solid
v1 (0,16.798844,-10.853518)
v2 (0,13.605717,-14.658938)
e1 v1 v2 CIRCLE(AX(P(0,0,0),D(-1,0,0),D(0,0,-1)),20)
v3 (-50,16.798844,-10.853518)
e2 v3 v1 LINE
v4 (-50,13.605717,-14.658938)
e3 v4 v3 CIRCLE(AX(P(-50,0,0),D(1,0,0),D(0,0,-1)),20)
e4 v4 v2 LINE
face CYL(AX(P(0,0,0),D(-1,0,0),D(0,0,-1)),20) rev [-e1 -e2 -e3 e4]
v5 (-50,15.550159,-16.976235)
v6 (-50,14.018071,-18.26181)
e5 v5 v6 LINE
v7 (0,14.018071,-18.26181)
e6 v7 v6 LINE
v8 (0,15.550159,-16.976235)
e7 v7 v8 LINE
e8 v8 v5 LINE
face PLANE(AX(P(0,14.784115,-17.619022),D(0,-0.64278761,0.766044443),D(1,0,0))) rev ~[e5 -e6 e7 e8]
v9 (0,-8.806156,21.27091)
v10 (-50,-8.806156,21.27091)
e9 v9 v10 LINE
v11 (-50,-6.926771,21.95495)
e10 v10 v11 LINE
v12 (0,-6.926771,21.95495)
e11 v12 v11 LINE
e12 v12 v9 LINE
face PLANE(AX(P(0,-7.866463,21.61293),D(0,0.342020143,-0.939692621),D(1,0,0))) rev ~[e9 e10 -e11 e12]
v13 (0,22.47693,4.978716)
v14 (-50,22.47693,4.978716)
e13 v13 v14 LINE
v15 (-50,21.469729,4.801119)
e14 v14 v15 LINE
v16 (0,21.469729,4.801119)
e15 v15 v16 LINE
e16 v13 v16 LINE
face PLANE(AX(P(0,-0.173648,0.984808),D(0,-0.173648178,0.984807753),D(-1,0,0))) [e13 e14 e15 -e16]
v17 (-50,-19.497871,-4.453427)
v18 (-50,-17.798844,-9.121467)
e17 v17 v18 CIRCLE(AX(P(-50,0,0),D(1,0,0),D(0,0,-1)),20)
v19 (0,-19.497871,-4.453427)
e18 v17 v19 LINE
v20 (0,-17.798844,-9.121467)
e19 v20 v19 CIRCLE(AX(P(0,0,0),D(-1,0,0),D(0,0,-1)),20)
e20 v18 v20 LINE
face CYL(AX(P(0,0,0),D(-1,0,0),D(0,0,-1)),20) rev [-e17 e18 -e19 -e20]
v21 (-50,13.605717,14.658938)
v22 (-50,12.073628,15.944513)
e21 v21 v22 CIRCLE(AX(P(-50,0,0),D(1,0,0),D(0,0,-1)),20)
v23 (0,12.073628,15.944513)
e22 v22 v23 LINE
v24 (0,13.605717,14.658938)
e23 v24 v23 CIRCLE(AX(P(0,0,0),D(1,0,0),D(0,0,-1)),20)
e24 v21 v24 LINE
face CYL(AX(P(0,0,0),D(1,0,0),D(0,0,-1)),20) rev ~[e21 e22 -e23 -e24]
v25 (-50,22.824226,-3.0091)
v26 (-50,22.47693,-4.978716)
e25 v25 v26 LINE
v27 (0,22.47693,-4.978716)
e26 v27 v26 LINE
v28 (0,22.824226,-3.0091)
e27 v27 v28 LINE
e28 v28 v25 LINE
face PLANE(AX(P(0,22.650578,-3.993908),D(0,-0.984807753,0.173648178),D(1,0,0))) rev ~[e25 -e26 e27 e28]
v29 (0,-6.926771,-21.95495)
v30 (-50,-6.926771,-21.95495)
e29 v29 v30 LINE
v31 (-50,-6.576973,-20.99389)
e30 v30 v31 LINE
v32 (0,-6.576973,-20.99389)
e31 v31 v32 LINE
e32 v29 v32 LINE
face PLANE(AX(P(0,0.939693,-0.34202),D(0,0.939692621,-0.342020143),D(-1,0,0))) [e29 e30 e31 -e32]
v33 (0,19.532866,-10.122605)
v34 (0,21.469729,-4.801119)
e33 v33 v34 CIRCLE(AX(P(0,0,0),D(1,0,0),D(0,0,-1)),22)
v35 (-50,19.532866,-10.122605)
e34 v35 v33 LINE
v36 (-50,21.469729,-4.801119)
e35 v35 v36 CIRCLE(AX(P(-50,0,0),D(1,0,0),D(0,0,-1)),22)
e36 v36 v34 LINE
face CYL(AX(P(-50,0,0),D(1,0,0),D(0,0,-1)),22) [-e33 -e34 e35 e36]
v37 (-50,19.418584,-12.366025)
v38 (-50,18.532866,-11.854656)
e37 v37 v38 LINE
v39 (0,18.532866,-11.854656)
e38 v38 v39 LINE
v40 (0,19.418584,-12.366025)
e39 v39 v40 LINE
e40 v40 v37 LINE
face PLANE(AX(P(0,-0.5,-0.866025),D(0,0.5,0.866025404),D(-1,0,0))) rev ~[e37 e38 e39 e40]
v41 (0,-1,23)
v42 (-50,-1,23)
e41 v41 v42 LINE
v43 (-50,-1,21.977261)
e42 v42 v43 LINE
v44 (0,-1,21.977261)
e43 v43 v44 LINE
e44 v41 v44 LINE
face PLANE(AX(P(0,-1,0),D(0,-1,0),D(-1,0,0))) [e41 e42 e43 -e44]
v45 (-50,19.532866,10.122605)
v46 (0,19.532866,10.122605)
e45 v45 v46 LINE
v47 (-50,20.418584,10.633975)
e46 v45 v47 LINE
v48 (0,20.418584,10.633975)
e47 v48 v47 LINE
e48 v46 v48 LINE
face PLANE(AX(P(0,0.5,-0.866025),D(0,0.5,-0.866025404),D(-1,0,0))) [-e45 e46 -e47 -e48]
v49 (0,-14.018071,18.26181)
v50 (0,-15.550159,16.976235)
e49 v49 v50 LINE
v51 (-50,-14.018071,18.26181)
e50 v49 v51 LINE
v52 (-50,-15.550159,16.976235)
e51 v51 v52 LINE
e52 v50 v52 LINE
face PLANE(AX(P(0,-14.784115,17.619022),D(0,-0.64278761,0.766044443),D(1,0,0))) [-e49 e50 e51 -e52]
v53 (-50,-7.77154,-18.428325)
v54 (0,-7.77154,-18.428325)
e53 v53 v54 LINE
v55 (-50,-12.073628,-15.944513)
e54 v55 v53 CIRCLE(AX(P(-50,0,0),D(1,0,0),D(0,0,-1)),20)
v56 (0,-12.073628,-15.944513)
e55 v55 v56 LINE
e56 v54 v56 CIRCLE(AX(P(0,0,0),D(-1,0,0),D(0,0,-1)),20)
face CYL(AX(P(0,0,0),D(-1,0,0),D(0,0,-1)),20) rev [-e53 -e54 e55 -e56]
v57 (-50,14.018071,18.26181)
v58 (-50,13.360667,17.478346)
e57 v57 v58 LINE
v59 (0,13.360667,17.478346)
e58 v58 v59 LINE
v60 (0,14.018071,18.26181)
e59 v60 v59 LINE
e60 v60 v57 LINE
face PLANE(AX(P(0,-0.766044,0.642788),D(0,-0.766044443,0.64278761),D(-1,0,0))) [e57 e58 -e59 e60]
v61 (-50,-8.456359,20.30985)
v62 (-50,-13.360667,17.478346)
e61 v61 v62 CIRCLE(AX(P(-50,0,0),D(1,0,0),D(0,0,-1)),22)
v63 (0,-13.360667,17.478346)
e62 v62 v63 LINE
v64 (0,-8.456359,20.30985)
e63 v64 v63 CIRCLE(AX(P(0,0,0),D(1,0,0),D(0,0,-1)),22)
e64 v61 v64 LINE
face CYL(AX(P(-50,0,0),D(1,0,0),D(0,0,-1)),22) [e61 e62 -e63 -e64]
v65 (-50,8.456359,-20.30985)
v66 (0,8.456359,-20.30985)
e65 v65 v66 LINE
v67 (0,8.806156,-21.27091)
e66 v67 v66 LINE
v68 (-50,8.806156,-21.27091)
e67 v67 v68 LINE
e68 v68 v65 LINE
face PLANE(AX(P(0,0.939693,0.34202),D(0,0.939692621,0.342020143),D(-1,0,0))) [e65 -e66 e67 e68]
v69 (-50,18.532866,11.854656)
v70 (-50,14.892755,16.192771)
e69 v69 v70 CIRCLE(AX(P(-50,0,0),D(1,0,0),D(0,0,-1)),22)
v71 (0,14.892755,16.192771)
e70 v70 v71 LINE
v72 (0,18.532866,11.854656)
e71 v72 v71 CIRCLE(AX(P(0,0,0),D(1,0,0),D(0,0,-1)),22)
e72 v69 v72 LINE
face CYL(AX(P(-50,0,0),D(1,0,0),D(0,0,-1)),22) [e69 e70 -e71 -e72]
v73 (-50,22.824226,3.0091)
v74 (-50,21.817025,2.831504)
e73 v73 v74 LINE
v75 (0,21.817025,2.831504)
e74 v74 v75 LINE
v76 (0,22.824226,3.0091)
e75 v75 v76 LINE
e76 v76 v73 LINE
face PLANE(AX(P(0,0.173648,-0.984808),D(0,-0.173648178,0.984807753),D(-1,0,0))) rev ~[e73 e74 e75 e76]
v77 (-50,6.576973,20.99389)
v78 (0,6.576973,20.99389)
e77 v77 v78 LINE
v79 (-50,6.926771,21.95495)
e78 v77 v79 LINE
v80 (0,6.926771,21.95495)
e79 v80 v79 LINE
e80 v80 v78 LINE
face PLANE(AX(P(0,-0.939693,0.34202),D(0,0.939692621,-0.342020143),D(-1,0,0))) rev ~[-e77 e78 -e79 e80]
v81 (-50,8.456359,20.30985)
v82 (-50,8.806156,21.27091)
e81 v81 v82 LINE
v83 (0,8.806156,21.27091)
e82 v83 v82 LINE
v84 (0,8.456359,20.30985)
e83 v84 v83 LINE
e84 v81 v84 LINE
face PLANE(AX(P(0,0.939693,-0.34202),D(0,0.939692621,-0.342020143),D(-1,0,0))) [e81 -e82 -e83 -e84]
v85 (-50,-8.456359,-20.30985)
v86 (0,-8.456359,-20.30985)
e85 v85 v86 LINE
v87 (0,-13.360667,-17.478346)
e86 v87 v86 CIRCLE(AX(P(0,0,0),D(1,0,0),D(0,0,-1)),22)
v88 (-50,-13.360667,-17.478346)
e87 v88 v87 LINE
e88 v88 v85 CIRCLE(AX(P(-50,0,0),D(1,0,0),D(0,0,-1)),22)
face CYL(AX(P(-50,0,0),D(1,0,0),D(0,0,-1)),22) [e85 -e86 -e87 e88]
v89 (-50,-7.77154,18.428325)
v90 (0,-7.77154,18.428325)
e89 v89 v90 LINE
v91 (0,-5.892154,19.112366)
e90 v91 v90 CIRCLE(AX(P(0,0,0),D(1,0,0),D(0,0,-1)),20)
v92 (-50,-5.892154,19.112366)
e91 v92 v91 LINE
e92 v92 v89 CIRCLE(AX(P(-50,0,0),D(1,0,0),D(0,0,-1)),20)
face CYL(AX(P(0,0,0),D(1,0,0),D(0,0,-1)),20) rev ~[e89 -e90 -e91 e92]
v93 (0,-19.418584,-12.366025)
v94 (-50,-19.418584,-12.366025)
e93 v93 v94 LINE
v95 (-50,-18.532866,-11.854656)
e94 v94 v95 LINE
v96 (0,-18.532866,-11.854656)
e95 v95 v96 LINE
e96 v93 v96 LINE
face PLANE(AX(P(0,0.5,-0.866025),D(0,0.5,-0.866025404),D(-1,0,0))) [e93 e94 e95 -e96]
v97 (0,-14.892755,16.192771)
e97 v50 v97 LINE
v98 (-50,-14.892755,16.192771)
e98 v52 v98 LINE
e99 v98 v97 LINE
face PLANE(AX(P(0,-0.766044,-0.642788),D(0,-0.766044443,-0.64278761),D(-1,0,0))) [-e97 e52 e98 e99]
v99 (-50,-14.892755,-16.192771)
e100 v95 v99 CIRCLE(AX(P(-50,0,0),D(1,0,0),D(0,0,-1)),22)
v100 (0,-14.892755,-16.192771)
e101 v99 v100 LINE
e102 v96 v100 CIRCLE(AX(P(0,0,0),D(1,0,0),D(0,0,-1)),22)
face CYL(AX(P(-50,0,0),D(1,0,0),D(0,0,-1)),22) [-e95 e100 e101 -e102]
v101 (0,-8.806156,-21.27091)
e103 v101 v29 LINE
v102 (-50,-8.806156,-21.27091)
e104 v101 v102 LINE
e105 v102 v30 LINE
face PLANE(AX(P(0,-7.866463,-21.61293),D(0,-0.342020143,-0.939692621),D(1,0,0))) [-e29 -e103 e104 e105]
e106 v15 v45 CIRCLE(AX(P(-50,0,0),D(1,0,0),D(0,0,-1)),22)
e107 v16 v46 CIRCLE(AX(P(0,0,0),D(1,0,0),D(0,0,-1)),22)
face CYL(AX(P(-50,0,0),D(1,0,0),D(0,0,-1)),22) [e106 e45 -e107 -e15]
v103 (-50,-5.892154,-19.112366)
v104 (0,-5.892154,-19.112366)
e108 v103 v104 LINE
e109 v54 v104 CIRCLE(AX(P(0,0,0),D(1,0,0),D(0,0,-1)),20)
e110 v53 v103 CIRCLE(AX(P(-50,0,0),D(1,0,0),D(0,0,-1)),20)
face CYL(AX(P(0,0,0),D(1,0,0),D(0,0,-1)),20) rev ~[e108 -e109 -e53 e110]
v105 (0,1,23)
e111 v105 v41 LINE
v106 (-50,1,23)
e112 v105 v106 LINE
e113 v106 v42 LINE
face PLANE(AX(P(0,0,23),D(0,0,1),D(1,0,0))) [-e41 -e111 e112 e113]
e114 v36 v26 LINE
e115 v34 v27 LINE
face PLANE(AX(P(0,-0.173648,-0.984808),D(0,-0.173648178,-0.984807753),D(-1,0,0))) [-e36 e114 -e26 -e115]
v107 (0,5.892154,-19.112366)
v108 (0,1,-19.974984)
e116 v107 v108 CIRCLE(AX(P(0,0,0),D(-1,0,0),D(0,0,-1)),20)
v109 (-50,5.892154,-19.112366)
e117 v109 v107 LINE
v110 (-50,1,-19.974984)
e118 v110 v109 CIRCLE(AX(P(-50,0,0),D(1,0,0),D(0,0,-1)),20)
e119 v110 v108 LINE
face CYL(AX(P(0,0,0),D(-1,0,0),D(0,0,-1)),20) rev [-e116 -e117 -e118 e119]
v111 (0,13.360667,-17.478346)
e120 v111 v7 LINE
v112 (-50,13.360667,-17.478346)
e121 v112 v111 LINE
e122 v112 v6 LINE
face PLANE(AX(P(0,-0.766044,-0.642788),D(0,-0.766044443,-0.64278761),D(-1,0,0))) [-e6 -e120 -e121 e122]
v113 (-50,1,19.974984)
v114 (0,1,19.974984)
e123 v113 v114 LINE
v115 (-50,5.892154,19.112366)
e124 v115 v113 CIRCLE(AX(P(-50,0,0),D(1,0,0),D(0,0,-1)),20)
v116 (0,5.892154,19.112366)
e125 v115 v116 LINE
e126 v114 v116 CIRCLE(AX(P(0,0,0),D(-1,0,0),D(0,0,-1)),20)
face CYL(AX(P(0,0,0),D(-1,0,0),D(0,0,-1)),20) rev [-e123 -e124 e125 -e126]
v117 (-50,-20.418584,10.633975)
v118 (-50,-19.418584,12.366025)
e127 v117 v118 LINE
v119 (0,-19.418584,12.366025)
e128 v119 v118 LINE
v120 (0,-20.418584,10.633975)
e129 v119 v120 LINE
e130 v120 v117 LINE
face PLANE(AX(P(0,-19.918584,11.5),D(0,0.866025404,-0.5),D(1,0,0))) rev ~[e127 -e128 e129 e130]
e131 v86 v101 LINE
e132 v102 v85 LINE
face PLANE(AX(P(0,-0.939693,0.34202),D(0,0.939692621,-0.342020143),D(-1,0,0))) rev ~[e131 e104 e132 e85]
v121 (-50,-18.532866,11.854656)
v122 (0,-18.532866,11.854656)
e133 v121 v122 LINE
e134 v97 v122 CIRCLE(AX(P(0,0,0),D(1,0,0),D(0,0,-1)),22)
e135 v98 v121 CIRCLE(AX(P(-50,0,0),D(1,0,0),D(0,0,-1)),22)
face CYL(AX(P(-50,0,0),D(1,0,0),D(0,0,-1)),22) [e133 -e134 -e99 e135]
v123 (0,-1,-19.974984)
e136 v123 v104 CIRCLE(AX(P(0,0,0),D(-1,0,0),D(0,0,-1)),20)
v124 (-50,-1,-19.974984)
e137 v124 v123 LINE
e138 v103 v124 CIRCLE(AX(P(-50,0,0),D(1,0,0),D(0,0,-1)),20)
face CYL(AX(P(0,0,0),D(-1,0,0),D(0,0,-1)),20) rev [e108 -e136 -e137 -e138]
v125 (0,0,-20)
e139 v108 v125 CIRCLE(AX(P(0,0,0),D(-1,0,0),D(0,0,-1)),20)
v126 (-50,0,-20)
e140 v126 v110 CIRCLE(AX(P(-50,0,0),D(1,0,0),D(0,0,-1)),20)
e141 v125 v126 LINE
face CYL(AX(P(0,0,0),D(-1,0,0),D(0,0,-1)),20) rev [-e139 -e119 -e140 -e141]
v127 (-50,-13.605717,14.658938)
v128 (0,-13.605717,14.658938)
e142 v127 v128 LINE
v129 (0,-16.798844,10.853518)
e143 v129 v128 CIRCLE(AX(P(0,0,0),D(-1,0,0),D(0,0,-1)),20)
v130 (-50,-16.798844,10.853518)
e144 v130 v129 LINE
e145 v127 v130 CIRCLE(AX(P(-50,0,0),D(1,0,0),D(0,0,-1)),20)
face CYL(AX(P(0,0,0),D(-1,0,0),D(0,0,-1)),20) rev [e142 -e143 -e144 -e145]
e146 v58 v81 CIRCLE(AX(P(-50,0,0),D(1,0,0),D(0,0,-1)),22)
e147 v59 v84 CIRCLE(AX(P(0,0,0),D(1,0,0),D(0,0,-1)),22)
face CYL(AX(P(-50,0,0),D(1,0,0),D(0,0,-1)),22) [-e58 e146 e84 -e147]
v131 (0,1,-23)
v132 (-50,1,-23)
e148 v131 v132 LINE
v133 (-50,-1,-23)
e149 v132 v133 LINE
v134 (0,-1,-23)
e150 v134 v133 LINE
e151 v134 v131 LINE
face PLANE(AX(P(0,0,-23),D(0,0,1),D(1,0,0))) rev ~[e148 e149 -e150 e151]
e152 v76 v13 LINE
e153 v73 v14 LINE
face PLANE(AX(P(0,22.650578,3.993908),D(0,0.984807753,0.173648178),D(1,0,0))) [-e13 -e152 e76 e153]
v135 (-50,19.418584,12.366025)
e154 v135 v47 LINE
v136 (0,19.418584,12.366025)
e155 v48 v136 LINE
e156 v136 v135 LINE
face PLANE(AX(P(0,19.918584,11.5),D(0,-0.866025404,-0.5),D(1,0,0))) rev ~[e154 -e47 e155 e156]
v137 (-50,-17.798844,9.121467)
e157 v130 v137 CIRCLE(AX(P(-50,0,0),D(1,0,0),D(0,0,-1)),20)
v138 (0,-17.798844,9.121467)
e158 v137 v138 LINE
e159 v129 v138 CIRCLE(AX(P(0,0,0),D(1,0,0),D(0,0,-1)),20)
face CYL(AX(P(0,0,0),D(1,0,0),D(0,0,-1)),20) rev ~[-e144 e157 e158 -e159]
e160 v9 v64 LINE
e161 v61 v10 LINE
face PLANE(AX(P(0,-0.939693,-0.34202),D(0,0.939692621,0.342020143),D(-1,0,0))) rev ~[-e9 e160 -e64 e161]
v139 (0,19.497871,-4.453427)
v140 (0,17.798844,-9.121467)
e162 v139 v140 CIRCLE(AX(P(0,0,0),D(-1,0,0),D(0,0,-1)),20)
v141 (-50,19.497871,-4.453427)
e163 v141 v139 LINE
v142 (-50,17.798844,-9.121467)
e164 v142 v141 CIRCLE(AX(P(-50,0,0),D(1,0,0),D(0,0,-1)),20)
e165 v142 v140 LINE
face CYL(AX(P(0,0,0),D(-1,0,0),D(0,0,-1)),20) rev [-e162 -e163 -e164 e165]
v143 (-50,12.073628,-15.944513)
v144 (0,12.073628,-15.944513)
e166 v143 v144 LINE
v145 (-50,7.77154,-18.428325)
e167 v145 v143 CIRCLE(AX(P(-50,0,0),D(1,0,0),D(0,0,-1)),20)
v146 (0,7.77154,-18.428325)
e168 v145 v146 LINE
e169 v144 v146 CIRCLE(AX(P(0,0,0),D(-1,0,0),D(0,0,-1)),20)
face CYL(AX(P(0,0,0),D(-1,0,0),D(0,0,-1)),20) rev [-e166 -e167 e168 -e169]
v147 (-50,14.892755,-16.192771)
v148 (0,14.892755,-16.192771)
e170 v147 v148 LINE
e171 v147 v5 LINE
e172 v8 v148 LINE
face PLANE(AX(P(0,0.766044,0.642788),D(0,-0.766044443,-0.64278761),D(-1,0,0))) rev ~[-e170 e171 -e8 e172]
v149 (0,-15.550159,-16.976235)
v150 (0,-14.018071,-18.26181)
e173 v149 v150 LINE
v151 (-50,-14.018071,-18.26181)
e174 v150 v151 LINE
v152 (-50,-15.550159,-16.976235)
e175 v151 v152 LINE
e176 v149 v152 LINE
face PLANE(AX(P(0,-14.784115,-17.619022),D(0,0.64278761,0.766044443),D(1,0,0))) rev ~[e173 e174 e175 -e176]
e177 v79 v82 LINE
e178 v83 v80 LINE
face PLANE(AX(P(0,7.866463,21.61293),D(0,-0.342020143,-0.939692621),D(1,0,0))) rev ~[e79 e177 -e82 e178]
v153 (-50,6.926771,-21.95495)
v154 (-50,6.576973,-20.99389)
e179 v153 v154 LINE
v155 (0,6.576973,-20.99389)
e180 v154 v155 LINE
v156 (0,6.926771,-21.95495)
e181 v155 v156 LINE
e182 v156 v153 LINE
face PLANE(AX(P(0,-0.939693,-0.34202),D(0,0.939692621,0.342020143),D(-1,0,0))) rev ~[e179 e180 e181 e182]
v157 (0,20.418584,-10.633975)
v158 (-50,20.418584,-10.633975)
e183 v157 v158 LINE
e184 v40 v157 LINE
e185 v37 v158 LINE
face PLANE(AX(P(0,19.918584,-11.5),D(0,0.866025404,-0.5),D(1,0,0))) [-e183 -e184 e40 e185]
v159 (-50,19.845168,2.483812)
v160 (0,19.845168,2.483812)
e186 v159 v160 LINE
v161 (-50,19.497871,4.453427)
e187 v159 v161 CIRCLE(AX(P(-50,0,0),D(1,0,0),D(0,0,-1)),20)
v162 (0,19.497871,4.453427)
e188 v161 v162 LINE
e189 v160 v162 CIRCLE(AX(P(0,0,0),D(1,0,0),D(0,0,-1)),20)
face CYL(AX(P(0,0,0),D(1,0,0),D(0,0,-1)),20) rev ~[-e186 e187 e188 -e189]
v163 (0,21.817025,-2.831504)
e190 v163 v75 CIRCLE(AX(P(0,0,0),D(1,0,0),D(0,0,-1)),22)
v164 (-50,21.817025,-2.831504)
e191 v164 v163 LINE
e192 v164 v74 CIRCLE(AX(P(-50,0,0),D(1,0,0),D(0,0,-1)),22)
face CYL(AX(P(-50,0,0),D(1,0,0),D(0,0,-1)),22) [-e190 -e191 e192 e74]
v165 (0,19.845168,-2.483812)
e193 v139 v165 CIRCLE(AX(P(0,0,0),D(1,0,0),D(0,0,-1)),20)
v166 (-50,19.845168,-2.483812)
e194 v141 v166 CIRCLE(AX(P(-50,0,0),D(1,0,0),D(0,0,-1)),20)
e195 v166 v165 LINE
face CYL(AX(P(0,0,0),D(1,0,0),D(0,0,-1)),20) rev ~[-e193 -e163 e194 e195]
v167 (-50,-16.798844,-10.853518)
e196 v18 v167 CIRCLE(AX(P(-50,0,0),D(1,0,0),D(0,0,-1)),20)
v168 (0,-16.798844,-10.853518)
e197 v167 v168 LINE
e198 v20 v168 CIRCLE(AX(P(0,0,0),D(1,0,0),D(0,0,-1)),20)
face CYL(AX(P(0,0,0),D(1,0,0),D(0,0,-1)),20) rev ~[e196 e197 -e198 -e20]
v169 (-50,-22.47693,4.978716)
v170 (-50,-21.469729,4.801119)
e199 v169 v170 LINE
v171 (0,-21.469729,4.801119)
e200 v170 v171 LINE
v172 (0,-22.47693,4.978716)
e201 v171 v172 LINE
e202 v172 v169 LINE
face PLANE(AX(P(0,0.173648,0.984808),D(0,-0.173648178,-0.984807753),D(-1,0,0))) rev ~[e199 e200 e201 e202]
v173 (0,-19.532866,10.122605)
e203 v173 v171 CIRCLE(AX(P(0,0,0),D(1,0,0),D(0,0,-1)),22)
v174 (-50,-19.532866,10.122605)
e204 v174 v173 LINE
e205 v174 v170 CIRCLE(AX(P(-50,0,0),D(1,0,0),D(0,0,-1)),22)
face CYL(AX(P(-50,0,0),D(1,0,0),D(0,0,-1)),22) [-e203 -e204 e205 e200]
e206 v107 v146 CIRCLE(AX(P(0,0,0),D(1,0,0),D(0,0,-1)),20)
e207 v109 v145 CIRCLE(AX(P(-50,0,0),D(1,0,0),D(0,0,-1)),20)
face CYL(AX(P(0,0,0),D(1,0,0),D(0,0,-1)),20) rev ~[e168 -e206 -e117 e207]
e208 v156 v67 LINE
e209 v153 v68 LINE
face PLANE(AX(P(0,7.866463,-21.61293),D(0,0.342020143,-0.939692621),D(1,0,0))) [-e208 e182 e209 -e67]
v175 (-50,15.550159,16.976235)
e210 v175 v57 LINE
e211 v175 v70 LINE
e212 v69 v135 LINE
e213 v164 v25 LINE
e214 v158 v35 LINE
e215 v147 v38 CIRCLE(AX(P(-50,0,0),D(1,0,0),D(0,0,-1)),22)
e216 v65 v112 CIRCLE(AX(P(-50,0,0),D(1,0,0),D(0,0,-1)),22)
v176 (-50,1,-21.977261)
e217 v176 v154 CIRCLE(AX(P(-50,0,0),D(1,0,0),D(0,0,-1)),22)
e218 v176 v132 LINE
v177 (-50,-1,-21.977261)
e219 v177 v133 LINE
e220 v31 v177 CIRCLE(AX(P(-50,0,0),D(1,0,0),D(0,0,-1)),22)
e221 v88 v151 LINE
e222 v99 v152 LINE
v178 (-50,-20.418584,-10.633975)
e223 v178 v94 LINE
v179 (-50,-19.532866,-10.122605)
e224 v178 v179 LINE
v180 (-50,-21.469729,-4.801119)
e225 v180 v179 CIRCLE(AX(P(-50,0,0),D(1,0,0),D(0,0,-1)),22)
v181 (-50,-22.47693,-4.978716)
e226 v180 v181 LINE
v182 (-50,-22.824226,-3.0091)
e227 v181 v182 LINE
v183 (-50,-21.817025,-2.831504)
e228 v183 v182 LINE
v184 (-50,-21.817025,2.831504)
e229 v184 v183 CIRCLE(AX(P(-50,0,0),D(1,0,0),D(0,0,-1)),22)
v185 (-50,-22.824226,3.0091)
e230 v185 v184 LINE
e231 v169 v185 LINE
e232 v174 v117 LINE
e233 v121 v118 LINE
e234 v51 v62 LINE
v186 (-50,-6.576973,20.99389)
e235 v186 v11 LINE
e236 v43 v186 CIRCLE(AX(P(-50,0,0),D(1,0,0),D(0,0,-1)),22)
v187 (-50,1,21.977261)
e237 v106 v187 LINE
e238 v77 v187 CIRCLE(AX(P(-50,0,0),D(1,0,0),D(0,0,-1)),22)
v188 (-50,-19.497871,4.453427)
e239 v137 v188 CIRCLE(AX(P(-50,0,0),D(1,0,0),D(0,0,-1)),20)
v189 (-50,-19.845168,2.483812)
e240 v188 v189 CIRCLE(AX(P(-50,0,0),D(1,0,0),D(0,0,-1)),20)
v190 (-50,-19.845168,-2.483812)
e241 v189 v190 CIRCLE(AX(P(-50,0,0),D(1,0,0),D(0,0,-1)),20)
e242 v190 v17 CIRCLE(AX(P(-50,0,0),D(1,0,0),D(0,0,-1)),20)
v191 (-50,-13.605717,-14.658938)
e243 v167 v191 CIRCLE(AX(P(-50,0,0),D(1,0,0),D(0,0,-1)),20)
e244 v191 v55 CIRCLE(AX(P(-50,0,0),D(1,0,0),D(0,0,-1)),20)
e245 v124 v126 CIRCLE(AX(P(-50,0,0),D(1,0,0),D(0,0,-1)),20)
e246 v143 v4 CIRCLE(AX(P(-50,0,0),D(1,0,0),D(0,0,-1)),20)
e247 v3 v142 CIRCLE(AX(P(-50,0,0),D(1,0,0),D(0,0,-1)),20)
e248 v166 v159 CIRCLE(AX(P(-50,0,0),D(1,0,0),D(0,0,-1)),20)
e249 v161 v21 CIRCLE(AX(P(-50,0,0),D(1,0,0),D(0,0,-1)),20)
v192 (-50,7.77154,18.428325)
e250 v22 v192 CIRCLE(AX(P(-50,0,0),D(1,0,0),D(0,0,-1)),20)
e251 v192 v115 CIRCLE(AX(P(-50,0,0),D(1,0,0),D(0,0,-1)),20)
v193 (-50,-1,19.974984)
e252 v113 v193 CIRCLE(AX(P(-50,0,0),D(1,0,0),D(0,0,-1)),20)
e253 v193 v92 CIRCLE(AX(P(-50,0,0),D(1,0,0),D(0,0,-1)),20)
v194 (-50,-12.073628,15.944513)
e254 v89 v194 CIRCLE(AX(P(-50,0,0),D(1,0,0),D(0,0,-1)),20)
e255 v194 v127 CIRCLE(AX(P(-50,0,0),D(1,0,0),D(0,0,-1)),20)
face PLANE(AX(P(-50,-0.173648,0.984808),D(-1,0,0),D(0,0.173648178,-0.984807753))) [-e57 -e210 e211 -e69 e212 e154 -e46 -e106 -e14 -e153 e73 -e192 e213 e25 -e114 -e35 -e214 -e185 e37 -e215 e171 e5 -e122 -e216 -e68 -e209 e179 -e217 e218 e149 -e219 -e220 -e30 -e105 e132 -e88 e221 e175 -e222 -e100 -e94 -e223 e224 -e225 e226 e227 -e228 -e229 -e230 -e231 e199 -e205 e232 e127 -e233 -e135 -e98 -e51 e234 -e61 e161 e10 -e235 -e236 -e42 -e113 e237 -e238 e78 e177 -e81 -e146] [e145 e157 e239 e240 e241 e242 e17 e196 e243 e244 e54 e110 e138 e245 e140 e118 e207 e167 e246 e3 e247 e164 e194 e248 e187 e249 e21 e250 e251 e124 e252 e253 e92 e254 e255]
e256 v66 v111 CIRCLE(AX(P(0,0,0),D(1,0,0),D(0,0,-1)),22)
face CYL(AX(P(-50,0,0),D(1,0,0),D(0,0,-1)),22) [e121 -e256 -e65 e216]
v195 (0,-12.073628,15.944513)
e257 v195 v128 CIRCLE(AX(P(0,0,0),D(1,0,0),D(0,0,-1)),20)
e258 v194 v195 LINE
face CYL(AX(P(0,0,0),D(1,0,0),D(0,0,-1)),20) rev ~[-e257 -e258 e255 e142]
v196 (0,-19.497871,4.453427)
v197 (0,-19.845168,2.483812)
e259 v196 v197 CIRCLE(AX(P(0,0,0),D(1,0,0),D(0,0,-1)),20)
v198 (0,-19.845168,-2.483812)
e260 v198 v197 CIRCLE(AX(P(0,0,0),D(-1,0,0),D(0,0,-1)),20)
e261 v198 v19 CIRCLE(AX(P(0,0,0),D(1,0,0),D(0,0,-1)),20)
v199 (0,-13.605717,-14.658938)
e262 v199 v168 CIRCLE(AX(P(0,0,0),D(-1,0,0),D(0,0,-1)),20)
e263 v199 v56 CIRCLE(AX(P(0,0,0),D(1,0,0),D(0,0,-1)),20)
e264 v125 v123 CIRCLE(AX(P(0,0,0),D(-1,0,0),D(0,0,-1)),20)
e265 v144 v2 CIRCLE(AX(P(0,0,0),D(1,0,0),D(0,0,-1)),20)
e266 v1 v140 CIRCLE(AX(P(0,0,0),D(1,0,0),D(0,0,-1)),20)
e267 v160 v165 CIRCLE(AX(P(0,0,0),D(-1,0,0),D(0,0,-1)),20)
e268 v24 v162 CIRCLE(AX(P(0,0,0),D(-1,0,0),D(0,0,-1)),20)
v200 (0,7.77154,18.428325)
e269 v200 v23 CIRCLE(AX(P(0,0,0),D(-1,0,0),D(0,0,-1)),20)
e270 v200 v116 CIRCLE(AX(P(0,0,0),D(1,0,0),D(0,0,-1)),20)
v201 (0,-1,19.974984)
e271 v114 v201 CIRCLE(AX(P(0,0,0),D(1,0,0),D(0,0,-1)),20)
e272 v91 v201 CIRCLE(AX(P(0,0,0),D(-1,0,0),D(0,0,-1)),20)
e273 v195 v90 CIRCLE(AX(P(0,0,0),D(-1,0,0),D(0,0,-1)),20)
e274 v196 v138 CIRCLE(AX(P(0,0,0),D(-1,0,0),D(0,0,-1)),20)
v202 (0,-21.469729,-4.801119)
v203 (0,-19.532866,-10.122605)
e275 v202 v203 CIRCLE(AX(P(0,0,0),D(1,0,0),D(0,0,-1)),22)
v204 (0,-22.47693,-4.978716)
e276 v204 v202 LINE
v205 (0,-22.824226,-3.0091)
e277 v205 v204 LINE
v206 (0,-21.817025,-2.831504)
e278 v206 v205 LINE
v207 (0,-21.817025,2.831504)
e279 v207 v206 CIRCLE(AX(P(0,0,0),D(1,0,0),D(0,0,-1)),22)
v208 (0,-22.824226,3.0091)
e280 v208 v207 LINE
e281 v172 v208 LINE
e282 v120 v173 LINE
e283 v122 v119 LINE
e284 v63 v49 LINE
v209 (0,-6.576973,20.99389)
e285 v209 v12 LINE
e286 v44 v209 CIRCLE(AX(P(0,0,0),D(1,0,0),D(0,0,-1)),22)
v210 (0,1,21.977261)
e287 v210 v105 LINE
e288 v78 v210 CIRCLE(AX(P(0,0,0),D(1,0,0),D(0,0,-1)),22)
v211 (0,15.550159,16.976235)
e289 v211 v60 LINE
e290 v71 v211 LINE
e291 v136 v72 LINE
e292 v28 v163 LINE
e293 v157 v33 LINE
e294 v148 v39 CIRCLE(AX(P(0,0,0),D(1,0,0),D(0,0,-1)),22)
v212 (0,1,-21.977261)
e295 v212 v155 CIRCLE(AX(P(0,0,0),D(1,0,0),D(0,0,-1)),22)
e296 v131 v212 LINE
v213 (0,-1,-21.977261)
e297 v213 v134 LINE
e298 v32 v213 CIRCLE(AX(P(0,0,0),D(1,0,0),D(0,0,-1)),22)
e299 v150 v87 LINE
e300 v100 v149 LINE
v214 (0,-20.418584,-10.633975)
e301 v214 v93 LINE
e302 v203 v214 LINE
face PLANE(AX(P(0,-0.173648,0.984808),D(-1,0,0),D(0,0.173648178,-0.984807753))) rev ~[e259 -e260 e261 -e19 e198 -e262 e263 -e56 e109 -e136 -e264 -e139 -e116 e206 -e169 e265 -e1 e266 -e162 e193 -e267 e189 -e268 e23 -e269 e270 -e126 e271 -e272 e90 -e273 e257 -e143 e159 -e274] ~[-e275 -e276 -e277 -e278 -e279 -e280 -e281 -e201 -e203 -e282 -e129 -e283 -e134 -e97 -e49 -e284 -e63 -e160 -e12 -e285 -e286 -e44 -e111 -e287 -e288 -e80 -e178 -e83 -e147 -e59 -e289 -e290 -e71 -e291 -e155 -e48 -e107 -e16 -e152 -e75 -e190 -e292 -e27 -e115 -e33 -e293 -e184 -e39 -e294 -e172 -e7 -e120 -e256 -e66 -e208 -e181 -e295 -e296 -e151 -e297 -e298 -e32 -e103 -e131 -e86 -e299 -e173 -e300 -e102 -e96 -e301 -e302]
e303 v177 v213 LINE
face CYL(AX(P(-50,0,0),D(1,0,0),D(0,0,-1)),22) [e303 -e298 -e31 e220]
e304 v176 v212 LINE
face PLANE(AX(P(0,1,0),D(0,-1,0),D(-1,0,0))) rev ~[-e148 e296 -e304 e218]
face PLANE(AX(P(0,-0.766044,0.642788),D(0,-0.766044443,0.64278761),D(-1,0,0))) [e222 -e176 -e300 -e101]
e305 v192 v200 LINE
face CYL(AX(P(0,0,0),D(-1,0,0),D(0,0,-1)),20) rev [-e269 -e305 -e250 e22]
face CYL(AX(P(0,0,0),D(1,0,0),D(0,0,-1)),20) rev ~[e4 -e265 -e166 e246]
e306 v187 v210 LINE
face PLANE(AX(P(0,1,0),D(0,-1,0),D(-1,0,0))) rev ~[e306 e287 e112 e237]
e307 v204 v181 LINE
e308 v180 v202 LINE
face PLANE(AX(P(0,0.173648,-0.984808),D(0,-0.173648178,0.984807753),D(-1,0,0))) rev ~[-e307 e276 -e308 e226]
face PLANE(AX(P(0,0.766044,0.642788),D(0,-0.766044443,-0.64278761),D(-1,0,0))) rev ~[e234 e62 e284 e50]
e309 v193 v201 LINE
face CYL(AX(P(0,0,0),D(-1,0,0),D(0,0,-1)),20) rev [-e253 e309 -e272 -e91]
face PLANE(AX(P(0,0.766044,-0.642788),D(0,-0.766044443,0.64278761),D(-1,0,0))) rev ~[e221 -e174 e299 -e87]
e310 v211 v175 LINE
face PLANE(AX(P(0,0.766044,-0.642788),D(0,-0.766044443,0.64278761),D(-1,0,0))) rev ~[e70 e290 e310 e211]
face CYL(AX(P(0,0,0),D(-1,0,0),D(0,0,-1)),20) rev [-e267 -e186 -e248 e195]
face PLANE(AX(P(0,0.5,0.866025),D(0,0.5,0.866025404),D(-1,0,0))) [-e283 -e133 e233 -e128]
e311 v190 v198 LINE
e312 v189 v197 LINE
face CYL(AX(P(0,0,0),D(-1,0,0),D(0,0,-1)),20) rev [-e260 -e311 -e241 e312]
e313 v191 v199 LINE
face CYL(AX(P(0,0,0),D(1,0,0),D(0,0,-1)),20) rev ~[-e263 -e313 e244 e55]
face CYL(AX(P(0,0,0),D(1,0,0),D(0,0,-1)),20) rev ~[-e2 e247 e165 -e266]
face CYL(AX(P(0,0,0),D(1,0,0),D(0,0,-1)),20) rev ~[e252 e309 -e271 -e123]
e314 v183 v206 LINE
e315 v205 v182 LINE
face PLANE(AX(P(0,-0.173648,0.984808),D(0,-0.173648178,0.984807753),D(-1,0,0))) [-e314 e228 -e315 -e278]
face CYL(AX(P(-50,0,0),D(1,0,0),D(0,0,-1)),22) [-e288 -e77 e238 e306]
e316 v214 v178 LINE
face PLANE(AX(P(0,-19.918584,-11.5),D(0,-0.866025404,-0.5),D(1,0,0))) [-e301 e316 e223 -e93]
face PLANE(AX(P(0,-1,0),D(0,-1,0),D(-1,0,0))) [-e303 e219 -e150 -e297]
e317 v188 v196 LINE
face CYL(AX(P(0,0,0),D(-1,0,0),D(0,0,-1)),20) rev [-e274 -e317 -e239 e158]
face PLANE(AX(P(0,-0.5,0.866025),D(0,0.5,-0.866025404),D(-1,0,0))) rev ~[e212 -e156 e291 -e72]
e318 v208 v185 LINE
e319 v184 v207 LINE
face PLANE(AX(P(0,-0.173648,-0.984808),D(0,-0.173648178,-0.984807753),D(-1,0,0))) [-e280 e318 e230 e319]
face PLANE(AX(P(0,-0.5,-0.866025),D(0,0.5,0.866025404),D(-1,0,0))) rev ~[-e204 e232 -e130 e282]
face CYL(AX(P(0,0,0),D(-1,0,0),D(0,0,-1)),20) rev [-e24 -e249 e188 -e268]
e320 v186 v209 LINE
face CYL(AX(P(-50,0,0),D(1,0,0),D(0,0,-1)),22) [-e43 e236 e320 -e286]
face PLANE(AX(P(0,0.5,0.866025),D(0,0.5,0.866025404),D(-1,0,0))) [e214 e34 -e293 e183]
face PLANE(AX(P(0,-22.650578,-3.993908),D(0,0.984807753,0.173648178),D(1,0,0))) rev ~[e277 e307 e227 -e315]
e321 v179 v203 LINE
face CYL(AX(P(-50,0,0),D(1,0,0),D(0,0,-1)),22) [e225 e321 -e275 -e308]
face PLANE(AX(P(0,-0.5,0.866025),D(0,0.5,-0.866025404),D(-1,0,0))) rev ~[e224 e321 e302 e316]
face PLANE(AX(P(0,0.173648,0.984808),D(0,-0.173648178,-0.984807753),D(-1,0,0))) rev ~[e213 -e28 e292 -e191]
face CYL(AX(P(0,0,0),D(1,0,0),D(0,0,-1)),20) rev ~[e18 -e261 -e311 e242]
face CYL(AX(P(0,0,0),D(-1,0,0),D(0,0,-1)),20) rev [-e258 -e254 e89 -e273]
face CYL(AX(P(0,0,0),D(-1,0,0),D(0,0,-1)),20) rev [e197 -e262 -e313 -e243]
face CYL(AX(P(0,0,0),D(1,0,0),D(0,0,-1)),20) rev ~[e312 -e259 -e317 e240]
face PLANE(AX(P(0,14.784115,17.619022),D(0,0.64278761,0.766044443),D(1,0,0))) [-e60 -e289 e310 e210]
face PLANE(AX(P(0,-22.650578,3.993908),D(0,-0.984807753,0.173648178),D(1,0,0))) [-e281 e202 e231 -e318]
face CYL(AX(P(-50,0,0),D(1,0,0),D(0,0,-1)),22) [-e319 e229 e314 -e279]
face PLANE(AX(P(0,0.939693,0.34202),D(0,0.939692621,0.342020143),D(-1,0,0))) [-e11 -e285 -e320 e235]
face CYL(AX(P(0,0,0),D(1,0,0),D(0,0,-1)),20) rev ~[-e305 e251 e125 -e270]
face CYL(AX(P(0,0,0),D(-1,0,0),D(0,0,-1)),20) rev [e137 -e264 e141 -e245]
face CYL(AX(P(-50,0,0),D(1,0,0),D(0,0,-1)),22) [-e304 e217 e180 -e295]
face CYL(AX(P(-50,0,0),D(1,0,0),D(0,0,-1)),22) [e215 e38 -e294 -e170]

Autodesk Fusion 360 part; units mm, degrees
sketch "Sketch1" plane through (0, 0, 0) normal (0, 1, 0) x (1, 0, 0) in component "tread"
  line L0 (-50, 22) -> (0, 22)
  line L1 (0, 22) -> (0, 20)
  line L2 (0, 20) -> (-50, 20)
  line L3 (-50, 20) -> (-50, 22)
  line L4 (0, 0) -> (0, -12) construction
  dimension "d1" = 50
  dimension "d2" = 2
  dimension "d3" = 20
revolve "Revolve1" add sketch "Sketch1" angle 360 about axis through (1.75, 0, 0) along (1, 0, 0) makes body 1 in component "tread"
sketch "Sketch2" plane through (0, 0, 0) normal (0, 0, 1) x (1, 0, 0) in component "tread"
  line L0 (0, 0) -> (-50, 0)
  line L1 (0, 1) -> (-50, 1)
  line L2 (0, -1) -> (-50, -1)
  line L3 (0, -1) -> (0, 1)
  line L4 (-50, -1) -> (-50, 1)
  dimension "d5" = 50
  dimension "d6" = 1
  dimension "d7" = -1
extrude "Extrude1" add sketch "Sketch2" along normal mid plane 46 separate body makes body 2 in component "tread"
pattern_circular "C-Pattern1" count 9 over 360 about axis through (1.75, 0, 0) along (1, 0, 0) of "Extrude1" makes body 3 makes body 4 makes body 5 makes body 6 makes body 7 makes body 8 makes body 9 makes body 10 in component "tread"
sketch "Sketch3" plane through (0, 0, 0) normal (1, 0, 0) x (0, 0, -1) in component "tread"
  circle A0 centre (0, 0) radius 20
  dimension "d14" = 40
extrude "Extrude2" cut sketch "Sketch3" against normal blind 50 bodies 2 makes body 11 at (-16.6667, 1, -20.9833) in component "tread"
extrude "Extrude3" cut sketch "Sketch3" against normal blind 50 bodies 3 4 5 6 7 8 9 10 makes body 19 at (-16.6667, -13.3699, -17.4894) makes body 18 at (-33.3333, -20.4909, -4.6285) makes body 17 at (-33.3333, -18.6721, 9.6256) makes body 16 at (-16.6667, -8.4613, 20.3234) makes body 15 at (-16.6667, 6.5819, 21.0074) makes body 14 at (-16.6667, 18.5453, 11.8619) makes body 13 at (-16.6667, 21.8312, -2.834) makes body 12 at (-16.6667, 14.902, -16.2038) in component "tread"
combine "Combine1" operation add target body 1 tool bodies 5 in component "tread"
combine "Combine2" operation add target body 1 tool bodies 3 4 8 6 7 9 10 13 12 11 18 19 2 16 15 14 17 in component "tread"
component "tread" placed x (1, 0, 0) y (0, 1, 0) z (0, 0, 1) at (0, 0, 0)
